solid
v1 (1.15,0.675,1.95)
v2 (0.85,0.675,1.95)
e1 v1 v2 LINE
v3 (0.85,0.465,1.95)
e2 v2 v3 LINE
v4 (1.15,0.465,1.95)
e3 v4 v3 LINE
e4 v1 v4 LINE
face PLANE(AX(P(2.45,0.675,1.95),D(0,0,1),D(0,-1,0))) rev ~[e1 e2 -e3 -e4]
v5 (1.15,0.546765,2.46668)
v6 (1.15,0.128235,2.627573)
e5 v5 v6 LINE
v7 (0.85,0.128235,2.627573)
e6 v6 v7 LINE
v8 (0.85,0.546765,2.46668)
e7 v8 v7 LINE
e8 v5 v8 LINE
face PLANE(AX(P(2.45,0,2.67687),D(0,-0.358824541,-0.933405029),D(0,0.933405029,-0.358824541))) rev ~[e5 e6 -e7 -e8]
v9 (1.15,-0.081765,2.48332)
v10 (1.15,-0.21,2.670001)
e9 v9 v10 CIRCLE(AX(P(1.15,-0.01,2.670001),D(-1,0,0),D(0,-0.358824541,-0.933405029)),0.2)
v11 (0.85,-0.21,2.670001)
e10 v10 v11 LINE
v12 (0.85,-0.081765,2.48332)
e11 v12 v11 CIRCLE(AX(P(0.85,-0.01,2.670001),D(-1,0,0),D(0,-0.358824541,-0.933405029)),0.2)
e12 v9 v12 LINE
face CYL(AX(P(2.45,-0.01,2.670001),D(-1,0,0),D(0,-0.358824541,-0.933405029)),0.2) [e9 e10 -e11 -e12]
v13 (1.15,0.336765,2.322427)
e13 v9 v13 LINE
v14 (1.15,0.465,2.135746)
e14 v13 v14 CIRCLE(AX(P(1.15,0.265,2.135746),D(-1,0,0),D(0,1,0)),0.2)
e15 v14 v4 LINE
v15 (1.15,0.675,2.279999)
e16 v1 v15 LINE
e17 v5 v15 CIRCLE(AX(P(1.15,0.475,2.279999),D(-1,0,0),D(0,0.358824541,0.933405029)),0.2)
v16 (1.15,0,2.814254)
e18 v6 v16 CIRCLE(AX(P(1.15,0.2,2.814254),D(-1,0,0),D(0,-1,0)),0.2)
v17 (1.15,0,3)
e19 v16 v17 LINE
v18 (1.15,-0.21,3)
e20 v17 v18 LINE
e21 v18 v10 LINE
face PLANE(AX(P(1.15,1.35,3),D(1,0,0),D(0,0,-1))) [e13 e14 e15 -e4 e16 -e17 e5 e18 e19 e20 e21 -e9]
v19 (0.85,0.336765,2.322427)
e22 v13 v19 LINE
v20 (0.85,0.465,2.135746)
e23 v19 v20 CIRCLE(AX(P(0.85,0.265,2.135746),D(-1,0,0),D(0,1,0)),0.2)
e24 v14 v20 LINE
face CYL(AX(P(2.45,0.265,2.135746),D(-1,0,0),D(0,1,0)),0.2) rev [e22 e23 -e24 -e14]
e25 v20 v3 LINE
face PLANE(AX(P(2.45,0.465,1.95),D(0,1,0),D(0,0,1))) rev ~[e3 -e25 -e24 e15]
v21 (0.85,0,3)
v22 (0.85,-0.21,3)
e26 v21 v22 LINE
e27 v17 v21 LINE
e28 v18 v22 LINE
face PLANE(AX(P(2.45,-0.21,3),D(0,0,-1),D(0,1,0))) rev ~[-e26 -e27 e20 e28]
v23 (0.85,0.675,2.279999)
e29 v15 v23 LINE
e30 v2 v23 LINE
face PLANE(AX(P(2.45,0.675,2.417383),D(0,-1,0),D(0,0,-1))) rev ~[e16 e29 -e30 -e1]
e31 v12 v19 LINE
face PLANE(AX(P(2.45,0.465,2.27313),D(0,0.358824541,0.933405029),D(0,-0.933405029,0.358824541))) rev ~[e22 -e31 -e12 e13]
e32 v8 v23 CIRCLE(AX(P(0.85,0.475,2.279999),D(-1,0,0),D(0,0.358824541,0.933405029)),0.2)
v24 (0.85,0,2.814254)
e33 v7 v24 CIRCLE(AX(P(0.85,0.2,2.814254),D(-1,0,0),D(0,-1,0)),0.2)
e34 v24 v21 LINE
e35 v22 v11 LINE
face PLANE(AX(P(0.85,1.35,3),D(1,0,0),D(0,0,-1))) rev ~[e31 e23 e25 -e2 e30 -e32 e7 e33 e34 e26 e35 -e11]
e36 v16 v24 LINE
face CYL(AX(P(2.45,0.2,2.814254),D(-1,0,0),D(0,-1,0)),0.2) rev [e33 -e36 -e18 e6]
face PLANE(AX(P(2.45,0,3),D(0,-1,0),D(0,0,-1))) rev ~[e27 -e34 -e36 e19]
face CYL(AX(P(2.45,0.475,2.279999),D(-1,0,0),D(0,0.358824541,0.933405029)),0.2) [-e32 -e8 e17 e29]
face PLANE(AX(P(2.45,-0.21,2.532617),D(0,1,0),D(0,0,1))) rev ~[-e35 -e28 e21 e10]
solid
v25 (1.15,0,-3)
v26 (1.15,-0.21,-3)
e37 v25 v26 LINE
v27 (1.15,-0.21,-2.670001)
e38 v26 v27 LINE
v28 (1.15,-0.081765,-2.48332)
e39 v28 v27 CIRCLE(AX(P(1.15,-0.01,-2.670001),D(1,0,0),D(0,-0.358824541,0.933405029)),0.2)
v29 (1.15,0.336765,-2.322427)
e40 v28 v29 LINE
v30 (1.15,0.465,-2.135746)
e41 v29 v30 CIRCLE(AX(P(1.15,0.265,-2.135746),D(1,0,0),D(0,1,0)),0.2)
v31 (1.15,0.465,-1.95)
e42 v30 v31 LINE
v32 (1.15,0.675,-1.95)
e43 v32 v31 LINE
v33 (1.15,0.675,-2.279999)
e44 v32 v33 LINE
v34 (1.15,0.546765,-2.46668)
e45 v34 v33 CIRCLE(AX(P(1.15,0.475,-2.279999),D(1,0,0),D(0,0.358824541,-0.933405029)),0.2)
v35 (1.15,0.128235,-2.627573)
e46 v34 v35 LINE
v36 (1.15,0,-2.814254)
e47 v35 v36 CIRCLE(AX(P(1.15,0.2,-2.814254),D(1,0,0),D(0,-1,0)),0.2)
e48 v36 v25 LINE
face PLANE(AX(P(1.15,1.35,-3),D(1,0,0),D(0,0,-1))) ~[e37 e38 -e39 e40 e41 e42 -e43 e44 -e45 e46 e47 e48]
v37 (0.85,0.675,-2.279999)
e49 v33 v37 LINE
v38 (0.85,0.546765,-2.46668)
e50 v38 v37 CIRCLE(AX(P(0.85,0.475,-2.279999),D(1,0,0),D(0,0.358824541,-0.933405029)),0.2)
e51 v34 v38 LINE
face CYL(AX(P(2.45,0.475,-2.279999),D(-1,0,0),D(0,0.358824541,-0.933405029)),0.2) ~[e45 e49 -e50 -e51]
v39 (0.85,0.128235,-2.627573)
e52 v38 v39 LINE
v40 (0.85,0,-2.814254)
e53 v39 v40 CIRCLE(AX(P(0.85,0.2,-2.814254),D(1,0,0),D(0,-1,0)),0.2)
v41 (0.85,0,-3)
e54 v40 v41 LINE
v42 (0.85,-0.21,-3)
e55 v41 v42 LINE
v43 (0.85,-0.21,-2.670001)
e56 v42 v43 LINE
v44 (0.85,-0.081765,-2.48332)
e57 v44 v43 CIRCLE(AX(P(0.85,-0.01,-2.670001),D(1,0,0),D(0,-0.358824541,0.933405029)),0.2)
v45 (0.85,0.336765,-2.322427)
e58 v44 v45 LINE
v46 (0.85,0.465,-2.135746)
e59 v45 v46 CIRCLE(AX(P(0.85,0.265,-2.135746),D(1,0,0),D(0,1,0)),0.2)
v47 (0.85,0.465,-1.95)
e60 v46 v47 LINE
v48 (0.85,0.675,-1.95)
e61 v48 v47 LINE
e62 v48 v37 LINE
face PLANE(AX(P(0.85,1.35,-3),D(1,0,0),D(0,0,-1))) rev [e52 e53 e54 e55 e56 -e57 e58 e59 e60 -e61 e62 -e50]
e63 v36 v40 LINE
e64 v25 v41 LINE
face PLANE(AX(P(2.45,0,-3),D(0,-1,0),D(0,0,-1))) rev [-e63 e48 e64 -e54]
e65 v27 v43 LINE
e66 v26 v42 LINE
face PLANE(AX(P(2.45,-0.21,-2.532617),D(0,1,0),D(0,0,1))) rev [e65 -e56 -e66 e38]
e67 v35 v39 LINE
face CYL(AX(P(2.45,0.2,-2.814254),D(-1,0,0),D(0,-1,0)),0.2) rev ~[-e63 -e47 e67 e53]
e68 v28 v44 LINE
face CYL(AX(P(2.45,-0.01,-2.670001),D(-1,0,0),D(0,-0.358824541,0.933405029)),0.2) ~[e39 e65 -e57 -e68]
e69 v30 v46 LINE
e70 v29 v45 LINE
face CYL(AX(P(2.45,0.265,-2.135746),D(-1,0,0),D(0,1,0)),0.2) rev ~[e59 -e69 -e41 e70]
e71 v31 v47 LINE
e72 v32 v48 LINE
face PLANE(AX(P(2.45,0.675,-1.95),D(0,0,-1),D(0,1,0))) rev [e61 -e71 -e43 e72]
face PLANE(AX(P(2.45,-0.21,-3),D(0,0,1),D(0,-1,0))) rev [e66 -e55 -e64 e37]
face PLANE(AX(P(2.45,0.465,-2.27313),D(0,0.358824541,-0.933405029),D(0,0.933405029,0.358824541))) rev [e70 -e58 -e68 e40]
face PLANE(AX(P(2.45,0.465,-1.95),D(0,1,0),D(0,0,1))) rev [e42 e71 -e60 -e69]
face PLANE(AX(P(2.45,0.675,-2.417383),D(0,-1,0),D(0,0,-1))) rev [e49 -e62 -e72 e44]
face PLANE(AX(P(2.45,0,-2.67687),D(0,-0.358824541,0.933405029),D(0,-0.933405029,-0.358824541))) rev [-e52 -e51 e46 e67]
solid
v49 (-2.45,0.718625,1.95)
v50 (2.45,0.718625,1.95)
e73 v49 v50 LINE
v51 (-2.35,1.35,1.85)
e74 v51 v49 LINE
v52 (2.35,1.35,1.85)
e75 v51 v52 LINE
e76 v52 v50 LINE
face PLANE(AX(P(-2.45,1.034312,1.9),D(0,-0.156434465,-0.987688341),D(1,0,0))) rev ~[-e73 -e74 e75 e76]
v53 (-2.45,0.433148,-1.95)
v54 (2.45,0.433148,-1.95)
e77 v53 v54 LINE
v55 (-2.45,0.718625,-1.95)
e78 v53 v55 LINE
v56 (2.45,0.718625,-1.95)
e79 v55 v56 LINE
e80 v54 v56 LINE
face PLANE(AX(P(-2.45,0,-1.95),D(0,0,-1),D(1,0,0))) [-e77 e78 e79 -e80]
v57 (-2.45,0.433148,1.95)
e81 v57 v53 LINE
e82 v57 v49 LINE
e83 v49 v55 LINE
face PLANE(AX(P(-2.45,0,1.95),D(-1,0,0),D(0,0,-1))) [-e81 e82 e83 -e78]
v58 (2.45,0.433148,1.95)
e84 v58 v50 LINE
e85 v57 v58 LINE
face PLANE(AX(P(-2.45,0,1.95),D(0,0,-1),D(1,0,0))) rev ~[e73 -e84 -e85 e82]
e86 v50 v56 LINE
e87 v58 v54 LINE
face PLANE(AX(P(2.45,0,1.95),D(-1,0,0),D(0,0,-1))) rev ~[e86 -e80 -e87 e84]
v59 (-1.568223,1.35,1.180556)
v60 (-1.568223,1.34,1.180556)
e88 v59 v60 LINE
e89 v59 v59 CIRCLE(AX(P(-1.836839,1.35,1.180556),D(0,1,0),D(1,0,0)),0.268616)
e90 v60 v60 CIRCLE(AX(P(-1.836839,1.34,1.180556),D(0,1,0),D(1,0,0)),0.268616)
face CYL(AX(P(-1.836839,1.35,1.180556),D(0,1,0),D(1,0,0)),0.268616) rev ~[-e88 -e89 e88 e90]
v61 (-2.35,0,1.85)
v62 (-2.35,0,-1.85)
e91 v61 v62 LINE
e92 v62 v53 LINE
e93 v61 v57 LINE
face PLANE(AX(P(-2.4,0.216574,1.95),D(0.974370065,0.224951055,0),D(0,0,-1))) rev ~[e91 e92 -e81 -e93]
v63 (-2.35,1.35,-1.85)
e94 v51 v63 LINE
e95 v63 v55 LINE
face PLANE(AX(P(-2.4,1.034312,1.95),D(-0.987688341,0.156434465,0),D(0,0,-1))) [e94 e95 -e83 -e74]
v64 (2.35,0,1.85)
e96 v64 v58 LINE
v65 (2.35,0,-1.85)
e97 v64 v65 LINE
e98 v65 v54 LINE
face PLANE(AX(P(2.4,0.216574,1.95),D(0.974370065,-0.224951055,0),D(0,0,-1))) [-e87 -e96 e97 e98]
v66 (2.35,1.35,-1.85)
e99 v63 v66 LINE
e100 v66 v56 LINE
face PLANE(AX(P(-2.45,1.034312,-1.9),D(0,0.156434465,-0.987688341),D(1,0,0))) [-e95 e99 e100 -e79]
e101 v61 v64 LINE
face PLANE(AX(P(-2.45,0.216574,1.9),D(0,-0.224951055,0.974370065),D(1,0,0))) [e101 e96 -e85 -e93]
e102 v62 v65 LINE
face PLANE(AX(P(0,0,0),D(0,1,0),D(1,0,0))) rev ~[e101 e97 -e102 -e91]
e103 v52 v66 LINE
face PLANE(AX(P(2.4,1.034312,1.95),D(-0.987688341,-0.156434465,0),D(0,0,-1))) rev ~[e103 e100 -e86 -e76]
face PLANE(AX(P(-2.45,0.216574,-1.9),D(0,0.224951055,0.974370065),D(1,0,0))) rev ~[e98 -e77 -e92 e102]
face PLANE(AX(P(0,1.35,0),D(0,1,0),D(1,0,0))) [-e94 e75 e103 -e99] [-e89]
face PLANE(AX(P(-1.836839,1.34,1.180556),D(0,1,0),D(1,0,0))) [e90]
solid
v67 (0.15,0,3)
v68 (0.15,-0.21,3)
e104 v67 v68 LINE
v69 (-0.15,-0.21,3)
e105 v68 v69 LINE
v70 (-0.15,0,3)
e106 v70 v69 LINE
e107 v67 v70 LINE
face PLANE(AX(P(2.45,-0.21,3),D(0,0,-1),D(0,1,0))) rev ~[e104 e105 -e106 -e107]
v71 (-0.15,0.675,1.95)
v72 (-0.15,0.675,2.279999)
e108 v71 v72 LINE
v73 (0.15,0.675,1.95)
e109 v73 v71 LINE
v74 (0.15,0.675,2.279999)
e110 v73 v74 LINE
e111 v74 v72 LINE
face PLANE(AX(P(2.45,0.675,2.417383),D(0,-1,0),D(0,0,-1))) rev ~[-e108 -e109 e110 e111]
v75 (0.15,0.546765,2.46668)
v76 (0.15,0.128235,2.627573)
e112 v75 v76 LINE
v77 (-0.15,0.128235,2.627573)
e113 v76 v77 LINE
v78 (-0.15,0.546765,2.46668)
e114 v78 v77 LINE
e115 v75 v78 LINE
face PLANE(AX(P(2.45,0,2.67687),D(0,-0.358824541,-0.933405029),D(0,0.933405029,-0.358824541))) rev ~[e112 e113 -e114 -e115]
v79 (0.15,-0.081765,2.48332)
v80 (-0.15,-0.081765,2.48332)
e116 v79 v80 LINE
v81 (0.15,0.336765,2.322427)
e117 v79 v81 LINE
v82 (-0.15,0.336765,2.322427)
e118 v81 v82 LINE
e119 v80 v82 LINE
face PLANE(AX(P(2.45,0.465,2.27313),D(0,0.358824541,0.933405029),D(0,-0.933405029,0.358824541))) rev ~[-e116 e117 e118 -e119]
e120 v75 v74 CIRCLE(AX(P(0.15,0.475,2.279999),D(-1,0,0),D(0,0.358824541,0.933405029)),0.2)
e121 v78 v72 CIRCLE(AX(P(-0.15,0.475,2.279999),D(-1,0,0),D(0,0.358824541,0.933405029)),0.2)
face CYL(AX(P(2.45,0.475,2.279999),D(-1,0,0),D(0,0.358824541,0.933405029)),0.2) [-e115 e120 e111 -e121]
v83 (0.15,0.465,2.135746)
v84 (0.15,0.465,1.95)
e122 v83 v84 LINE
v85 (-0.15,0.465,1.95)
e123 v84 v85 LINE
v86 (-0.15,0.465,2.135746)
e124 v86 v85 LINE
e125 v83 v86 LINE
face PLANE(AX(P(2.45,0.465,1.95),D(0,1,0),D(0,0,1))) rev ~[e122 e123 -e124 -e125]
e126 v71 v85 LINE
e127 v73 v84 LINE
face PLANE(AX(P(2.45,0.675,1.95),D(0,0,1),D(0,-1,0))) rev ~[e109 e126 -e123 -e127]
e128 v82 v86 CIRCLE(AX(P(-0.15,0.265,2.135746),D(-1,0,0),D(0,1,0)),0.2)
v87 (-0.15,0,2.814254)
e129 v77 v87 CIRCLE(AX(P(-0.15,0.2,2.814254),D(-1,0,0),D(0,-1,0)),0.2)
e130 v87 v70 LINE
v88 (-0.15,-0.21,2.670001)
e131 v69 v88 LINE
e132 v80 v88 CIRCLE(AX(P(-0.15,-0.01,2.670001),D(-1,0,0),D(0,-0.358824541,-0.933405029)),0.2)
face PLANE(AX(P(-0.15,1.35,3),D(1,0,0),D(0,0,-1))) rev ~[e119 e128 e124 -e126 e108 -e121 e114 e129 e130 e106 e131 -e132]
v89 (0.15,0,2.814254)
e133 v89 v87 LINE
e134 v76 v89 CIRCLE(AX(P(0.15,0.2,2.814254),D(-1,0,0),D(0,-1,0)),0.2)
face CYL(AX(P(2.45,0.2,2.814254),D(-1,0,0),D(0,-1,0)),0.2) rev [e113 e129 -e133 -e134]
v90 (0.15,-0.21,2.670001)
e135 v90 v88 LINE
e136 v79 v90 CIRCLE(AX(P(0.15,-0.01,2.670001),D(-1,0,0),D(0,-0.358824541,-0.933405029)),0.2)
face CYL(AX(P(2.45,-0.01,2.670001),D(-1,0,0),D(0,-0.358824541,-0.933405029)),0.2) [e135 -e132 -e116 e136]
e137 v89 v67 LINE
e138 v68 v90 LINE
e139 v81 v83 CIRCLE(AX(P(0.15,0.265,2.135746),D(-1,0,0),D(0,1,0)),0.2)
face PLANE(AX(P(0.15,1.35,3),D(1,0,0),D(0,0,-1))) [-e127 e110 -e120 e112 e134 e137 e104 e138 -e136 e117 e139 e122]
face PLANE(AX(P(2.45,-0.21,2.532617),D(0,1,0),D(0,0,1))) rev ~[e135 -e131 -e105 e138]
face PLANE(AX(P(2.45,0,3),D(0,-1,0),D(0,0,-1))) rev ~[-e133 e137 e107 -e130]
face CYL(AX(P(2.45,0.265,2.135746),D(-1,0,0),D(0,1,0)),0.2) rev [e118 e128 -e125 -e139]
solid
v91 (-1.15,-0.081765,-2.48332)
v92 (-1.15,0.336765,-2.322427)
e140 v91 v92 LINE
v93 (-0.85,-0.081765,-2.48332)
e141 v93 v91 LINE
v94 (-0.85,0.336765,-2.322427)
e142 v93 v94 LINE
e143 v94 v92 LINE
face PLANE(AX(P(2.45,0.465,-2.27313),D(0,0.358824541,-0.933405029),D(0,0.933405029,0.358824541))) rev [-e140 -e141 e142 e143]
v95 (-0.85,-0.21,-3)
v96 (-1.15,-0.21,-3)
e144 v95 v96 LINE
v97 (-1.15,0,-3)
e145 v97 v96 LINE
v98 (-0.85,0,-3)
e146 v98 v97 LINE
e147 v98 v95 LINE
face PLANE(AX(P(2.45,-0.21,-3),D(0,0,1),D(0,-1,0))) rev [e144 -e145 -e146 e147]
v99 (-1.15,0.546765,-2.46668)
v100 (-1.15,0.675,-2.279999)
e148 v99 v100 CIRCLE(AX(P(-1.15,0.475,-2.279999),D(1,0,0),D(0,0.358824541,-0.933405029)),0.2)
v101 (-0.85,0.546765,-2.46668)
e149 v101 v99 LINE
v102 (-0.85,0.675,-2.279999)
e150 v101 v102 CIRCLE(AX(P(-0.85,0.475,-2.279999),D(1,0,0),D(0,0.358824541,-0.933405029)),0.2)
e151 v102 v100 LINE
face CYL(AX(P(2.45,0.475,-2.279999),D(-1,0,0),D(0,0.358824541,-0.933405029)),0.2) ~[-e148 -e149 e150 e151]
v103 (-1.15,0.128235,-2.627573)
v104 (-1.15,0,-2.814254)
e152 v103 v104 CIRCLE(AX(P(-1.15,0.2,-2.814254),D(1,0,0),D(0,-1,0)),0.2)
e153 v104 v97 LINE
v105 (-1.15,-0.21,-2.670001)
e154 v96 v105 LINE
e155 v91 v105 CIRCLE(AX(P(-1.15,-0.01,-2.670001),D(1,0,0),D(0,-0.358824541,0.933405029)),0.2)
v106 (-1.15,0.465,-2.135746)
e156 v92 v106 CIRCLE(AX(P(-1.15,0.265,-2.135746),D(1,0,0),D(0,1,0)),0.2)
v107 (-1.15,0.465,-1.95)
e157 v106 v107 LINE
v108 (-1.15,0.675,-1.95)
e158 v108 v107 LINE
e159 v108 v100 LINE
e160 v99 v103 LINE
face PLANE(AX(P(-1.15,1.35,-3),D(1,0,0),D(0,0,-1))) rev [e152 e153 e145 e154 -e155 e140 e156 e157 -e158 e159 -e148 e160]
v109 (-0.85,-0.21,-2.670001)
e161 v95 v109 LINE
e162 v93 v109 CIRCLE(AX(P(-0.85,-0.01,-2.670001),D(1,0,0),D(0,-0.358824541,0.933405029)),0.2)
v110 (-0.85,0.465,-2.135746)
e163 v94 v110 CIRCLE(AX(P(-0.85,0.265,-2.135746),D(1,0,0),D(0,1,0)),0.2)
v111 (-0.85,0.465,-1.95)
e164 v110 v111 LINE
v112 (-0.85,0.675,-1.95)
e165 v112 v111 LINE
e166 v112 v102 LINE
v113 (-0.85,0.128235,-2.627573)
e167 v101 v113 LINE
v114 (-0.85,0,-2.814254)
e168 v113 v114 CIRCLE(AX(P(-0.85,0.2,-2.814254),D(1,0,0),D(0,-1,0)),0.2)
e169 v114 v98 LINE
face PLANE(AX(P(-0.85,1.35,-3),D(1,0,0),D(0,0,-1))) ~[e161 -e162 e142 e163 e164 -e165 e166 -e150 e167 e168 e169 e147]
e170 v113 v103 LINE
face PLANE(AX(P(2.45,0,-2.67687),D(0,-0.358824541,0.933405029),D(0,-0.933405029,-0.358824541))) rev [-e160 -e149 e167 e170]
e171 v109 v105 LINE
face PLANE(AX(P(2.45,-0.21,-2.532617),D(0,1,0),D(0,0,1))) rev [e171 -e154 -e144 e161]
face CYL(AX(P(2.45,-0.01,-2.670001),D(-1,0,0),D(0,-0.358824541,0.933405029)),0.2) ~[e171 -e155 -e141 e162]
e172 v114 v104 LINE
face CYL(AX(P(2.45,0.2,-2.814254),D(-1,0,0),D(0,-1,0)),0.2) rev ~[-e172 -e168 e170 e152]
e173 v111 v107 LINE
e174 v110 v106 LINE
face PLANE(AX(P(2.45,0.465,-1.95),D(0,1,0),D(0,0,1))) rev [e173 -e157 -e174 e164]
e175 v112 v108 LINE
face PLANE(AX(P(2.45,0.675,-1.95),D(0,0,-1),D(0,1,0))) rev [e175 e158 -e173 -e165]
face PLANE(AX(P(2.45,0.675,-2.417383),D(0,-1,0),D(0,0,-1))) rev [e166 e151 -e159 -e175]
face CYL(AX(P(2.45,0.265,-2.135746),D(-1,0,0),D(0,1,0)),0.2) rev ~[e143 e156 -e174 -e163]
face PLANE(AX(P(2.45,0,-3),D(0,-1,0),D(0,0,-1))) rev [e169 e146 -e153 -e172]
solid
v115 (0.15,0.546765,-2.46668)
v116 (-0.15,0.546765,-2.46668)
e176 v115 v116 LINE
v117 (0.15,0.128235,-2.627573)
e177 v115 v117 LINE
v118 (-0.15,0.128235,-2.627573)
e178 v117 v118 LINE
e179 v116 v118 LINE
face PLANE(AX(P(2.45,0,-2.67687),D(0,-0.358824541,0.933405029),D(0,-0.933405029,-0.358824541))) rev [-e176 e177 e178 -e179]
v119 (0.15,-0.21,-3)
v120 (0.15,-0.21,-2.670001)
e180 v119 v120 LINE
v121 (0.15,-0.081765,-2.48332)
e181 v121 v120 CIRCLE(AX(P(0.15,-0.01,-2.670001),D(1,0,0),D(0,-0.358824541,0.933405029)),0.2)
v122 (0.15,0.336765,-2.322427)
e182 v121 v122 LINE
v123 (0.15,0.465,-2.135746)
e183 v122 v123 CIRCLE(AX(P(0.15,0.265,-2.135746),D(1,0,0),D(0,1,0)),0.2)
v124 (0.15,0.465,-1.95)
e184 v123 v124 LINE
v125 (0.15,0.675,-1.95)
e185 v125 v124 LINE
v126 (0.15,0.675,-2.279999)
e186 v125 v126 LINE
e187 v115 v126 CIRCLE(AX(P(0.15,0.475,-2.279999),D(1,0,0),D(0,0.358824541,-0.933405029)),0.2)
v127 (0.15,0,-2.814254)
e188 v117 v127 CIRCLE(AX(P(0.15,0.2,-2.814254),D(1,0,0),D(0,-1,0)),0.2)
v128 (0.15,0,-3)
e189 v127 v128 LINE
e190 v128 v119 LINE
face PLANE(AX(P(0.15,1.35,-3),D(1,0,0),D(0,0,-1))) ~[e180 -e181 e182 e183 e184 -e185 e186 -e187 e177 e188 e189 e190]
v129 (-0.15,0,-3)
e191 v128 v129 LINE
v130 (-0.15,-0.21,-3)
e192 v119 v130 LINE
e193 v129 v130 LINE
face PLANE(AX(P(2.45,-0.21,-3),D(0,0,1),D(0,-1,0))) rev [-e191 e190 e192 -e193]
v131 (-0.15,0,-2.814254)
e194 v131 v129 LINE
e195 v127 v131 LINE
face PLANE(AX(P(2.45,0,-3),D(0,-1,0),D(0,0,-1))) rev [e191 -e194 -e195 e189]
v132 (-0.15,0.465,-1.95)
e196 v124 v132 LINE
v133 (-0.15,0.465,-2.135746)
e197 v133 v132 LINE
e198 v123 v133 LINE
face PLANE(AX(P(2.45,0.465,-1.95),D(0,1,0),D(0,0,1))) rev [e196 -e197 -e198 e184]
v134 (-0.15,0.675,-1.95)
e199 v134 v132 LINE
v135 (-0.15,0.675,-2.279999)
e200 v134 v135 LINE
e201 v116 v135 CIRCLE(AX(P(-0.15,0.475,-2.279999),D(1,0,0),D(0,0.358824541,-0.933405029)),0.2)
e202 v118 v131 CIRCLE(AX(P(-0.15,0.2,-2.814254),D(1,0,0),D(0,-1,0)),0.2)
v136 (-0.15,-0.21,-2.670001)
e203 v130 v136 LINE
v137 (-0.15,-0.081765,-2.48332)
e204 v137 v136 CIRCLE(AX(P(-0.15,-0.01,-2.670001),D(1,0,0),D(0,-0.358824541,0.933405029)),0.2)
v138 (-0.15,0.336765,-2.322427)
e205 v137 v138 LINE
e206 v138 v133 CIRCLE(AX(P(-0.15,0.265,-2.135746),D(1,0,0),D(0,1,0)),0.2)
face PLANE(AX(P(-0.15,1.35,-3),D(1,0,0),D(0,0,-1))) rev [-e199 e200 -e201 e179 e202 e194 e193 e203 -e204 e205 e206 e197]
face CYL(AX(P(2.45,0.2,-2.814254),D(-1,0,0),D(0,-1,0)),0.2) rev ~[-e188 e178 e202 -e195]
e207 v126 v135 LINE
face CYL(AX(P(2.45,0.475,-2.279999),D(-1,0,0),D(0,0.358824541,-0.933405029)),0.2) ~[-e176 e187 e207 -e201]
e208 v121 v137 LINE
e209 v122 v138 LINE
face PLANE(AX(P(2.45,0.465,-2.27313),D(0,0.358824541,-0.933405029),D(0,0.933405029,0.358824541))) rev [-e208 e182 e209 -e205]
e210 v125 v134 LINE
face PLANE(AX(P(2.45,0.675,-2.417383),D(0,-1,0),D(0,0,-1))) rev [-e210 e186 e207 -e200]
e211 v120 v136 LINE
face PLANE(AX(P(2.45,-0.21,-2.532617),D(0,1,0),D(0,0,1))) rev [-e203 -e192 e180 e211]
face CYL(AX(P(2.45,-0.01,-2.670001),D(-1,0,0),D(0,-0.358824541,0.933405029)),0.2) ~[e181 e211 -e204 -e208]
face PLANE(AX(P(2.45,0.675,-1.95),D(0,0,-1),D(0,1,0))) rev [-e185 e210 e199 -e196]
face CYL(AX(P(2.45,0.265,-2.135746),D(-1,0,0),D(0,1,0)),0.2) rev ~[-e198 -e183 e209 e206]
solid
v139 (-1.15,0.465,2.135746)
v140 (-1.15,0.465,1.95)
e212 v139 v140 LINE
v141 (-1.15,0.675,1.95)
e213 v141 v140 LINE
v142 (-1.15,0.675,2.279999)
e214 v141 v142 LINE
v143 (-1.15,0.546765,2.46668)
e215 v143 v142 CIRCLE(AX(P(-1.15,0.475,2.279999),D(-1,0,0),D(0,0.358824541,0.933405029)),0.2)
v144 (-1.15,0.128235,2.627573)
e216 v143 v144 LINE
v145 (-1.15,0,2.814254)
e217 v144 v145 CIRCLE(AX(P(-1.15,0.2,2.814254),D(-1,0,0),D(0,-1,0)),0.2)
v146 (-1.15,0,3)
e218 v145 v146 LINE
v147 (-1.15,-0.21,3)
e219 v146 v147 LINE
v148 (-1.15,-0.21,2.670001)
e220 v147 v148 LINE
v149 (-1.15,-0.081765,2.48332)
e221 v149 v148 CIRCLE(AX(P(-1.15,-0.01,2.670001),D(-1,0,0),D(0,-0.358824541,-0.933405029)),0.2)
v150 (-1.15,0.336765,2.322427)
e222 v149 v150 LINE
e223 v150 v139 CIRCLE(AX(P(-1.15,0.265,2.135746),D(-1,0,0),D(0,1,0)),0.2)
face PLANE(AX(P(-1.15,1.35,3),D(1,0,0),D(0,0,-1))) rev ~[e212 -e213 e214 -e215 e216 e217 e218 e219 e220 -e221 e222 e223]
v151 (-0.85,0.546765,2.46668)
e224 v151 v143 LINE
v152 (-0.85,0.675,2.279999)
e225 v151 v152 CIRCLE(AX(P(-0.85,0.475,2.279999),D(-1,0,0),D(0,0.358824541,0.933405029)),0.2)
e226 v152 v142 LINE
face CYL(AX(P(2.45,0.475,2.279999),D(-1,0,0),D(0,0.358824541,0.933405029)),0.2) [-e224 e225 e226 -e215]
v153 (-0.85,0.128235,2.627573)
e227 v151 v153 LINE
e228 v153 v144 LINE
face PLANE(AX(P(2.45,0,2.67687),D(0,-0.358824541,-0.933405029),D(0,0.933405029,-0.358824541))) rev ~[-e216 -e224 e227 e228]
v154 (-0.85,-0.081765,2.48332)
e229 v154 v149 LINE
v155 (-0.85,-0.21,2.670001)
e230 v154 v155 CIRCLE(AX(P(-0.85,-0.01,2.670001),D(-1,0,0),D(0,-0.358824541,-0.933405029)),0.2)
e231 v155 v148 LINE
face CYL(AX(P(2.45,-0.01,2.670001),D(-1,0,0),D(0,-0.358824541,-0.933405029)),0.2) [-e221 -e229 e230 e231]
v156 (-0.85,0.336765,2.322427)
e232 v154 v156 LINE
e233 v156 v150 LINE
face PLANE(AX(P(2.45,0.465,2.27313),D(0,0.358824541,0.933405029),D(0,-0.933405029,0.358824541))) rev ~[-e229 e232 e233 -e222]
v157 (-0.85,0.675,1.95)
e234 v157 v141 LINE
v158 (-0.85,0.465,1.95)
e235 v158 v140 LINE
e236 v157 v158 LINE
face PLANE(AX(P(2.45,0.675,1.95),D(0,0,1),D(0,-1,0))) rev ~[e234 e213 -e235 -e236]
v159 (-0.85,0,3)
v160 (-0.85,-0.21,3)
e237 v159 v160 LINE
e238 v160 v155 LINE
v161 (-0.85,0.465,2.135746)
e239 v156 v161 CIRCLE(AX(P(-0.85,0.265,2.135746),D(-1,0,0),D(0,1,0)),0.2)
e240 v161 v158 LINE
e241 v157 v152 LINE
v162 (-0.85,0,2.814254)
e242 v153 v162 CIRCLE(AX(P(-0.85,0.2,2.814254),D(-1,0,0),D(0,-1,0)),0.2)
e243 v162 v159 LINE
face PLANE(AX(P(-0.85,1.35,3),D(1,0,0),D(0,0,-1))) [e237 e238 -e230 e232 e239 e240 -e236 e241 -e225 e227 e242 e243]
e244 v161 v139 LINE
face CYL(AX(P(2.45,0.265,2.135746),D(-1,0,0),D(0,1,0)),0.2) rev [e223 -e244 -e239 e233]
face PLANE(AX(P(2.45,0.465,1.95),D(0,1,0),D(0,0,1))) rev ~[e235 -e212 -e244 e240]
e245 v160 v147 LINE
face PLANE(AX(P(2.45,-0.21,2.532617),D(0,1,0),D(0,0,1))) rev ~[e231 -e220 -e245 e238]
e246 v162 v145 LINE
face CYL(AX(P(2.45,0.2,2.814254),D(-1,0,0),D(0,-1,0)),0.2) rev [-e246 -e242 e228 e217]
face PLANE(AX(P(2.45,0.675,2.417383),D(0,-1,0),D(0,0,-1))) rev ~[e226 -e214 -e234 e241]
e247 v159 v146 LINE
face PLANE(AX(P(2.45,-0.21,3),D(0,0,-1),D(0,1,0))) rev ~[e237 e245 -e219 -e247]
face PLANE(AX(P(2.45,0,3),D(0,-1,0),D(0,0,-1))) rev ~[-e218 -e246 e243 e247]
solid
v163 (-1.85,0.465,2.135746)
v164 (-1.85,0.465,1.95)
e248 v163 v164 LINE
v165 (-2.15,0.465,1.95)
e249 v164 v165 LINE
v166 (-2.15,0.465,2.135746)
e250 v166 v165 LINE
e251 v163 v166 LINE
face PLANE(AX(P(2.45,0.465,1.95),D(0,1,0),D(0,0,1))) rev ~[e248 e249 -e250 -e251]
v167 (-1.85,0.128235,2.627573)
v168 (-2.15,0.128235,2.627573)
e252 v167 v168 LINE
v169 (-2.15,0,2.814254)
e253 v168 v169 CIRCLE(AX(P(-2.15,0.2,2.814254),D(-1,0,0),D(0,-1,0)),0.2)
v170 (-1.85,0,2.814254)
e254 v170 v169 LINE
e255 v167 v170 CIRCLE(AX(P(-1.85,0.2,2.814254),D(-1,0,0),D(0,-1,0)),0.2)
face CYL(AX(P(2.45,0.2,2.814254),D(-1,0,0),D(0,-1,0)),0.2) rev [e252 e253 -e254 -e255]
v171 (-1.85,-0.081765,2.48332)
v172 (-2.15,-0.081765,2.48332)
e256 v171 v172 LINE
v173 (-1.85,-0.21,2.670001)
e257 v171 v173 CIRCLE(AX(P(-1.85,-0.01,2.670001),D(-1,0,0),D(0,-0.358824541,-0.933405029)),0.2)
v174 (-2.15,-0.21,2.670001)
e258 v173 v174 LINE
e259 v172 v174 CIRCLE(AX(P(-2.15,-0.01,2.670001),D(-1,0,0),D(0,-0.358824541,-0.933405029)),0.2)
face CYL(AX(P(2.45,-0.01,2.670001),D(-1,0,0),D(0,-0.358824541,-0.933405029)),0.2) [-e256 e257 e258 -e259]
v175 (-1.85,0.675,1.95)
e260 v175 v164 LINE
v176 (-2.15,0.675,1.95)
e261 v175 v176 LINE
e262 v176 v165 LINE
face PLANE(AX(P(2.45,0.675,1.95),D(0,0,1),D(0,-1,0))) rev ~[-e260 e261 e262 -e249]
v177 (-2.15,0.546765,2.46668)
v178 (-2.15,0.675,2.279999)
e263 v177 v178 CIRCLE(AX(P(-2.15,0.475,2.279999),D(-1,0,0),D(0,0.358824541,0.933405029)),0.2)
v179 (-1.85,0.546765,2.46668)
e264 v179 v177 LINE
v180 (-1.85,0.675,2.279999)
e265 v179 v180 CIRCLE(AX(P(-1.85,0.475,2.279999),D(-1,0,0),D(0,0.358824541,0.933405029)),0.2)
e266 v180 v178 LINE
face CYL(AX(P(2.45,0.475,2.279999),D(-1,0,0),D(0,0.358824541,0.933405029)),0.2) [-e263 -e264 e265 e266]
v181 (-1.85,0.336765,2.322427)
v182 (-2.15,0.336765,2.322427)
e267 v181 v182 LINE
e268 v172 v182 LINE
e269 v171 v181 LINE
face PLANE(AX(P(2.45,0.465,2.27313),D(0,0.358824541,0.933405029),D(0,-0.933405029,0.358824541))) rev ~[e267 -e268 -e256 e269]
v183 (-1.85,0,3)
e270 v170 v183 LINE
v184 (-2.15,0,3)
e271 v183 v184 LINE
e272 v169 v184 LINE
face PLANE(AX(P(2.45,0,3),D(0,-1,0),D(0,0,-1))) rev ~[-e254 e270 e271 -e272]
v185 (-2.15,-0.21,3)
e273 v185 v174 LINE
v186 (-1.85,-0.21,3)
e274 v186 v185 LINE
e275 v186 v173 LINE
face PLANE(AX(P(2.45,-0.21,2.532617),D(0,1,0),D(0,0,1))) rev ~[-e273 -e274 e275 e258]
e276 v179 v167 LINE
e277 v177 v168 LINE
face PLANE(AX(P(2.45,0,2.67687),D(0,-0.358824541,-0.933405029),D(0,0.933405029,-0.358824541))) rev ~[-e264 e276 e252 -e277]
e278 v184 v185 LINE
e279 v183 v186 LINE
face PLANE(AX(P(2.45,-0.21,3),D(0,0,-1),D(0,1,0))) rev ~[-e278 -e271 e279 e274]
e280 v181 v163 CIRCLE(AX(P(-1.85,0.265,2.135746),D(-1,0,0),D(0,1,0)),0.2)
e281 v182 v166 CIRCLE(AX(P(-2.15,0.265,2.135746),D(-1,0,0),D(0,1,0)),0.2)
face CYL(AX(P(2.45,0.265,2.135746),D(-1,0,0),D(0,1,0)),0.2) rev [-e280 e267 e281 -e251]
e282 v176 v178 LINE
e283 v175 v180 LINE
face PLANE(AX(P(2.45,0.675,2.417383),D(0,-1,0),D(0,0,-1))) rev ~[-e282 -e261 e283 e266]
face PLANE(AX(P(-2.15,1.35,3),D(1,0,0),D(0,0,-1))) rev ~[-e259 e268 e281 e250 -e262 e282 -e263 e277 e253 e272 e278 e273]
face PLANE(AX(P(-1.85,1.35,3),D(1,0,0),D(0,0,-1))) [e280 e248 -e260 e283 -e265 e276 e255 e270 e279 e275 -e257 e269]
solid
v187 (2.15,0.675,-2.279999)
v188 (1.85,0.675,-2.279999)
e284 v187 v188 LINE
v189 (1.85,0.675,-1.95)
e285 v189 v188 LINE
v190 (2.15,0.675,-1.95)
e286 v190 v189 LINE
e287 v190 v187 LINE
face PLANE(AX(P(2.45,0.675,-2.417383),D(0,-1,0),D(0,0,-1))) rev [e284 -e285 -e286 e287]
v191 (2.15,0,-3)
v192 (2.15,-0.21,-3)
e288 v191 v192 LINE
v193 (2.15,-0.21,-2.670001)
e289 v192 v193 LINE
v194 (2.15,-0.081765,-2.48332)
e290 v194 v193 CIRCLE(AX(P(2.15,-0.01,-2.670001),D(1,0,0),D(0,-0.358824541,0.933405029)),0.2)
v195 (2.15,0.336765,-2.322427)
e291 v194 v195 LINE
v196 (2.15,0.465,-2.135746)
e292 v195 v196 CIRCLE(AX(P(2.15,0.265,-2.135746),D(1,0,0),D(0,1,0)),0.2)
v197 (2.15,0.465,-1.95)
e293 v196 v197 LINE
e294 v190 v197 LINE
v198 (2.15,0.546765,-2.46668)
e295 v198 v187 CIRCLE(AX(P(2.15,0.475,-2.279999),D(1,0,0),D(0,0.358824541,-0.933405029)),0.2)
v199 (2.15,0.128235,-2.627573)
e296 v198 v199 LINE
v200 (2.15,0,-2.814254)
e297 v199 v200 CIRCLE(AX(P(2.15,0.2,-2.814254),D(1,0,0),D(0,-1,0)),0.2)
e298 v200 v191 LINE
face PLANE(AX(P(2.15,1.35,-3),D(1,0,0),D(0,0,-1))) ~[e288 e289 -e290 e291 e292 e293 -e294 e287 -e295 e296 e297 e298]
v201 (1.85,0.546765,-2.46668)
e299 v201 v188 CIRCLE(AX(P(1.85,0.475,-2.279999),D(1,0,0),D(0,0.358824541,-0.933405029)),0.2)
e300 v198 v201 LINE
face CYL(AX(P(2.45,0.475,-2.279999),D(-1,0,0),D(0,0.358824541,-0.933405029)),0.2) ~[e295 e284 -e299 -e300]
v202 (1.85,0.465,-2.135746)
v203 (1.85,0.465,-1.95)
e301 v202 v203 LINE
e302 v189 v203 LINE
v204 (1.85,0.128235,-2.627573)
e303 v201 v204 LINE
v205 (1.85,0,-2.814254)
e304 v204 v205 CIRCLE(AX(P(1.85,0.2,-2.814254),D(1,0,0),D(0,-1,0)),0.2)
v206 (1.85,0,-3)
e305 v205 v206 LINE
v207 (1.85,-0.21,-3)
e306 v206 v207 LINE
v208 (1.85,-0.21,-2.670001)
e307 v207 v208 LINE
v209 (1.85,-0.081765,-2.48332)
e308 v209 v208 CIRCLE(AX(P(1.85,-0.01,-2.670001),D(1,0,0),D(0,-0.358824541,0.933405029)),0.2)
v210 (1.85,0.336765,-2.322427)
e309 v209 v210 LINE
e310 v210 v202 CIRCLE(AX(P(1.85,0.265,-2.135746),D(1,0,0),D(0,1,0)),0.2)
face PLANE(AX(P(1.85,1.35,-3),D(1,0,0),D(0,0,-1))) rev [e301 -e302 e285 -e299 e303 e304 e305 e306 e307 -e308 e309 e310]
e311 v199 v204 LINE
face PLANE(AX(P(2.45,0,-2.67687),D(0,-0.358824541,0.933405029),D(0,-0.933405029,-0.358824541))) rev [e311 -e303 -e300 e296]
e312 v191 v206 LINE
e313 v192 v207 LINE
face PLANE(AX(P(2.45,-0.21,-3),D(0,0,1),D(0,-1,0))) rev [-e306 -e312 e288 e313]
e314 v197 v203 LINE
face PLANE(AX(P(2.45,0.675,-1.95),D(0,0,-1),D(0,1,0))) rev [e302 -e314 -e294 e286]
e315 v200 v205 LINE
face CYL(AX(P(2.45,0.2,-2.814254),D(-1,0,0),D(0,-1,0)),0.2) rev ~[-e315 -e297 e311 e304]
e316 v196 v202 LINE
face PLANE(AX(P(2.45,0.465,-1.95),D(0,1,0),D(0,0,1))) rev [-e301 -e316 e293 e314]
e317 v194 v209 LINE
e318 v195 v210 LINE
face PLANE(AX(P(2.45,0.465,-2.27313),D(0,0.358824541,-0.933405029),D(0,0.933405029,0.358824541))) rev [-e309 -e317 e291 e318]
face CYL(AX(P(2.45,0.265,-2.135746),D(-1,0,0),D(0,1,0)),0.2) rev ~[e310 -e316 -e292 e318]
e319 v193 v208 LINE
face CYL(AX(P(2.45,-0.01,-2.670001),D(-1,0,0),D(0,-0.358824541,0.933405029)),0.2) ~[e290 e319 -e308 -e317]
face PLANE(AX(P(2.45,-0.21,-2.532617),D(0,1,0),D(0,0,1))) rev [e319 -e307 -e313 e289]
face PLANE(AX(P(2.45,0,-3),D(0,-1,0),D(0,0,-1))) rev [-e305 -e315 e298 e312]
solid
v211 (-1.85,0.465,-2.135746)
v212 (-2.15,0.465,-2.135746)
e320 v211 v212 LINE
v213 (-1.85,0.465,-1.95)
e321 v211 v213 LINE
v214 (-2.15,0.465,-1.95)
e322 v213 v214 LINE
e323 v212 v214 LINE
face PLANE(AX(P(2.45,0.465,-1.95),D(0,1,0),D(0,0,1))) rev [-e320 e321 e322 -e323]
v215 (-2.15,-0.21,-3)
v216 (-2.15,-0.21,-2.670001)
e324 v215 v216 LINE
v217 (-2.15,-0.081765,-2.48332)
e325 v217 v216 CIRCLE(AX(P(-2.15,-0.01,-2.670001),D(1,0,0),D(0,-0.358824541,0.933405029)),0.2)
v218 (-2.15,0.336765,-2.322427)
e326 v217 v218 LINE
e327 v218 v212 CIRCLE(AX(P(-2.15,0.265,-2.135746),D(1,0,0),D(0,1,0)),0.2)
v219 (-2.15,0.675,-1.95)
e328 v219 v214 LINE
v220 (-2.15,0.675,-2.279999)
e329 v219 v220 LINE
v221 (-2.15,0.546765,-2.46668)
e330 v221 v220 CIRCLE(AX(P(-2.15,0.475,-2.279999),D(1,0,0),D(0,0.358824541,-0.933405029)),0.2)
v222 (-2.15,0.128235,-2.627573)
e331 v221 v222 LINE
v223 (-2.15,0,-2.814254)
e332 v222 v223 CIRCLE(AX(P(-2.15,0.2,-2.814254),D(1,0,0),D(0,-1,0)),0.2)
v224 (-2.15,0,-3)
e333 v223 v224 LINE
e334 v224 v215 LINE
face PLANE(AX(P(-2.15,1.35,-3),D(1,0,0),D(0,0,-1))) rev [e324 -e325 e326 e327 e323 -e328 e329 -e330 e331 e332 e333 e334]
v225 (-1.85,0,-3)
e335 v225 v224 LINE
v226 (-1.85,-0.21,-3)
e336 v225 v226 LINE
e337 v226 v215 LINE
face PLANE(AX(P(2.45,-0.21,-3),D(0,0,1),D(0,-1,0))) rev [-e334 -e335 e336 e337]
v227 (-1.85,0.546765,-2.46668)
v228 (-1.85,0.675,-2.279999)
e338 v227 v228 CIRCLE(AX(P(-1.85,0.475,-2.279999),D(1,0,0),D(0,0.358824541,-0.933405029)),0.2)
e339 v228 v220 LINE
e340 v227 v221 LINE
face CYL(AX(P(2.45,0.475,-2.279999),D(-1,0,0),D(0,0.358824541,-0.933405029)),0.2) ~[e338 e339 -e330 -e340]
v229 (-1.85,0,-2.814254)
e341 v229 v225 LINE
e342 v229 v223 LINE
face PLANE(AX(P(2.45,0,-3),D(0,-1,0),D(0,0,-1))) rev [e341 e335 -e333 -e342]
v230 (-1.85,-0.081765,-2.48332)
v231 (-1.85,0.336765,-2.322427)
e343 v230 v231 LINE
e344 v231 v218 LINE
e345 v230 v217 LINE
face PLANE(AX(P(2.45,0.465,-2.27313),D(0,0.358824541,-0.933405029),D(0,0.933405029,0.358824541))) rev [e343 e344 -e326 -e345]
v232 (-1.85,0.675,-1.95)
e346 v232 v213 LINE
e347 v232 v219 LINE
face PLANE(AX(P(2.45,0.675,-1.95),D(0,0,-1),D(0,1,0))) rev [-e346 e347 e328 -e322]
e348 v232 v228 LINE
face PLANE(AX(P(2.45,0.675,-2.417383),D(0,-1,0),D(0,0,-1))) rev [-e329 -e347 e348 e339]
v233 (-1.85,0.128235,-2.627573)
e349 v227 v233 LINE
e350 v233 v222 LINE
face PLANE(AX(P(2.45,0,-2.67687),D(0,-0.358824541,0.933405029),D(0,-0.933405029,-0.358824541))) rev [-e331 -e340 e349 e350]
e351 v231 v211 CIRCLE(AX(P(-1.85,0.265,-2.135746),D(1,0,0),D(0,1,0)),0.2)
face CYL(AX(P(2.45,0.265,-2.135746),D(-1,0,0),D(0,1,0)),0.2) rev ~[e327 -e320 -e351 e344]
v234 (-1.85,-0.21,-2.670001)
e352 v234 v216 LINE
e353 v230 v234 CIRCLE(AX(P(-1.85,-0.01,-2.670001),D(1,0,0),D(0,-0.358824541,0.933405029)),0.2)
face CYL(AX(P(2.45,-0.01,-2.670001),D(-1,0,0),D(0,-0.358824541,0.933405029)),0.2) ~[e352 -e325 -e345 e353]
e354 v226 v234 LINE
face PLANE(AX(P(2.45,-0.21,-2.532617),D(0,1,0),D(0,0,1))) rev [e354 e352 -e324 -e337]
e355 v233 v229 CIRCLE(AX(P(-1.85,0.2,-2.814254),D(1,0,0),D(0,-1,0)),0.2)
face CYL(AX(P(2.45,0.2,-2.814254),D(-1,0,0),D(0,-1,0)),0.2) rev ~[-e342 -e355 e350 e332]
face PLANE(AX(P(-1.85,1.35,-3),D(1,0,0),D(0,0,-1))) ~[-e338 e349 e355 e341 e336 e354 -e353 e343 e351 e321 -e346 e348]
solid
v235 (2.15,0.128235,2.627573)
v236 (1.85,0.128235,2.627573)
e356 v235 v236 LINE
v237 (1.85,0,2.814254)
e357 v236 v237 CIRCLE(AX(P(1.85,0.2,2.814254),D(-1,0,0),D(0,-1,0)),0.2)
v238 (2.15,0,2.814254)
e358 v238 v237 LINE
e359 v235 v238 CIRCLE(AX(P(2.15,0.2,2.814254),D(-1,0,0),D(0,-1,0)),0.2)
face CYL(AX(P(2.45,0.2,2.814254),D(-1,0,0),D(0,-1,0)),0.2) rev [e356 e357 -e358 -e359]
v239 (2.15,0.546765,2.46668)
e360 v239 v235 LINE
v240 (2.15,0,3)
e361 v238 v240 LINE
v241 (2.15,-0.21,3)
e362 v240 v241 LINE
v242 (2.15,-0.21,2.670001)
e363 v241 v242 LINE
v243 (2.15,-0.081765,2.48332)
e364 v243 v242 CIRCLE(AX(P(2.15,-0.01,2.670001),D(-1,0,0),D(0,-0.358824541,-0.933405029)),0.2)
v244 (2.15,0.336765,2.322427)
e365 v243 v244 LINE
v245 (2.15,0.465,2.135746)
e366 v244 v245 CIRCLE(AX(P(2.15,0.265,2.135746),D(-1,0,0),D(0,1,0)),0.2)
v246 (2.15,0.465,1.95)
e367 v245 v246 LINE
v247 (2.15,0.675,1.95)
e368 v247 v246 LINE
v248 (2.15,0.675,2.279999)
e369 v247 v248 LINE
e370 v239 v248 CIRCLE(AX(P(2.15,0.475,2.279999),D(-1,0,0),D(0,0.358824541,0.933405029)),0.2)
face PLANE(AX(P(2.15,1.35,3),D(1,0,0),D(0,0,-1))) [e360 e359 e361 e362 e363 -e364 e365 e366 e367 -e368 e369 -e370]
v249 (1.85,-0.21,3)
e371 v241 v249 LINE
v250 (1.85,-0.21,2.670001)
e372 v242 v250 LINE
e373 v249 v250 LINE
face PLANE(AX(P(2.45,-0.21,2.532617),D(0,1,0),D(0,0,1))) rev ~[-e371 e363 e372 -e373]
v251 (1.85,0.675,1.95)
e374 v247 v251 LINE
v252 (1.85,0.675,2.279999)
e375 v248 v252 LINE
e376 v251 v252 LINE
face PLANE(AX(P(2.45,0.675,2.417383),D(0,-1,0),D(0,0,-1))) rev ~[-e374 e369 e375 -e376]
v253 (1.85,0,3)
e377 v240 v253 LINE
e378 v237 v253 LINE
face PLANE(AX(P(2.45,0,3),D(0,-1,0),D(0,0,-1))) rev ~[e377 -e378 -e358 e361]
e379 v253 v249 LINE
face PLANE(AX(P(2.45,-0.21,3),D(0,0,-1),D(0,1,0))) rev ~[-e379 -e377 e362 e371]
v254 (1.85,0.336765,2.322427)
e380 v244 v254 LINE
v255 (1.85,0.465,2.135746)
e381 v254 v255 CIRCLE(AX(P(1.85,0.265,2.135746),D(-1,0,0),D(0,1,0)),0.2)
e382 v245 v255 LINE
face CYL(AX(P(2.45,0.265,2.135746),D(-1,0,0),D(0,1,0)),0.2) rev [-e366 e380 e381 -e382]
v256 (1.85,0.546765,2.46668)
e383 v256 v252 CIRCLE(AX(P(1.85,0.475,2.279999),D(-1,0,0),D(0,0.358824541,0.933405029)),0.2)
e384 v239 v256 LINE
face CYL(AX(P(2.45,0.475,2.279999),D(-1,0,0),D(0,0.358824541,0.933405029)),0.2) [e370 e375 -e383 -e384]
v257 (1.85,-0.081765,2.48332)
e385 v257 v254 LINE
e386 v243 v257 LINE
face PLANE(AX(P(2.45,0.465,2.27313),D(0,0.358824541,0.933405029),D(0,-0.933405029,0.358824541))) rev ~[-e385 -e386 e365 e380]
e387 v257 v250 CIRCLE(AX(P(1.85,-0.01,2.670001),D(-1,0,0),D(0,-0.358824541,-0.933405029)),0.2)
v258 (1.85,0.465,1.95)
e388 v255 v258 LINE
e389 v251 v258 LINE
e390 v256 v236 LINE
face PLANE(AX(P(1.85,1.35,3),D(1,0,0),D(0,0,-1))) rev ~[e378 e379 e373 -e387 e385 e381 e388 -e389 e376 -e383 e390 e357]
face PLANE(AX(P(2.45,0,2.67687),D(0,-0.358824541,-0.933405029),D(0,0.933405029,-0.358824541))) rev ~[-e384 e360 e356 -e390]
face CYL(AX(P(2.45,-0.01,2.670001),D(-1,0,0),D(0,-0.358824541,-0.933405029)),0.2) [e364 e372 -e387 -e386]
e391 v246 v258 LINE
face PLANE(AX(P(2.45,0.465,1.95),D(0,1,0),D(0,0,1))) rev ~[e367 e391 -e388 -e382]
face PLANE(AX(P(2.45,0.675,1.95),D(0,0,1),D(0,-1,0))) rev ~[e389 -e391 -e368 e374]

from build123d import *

# Parameters (mm, degrees)
SKETCH1_W           = 4.9
SKETCH1_H           = 3.9
BOSS_EXTRUDE1_DEPTH = 1.35
BOSS_EXTRUDE2_DEPTH = 4.9
FILLET1_R           = 0.2
SKETCH3_OUTSIDE_W   = 8.328
SKETCH3_OUTSIDE_H   = 8.378
SKETCH3_OUTSIDE_W_2 = 0.3
SKETCH3_OUTSIDE_H_2 = 1.05
CUT_EXTRUDE1_DEPTH  = 2.56
CHAMFER1_SIZE       = 0.1
CHAMFER1_SIZE2      = 0.433147587
CHAMFER2_SIZE       = 0.1
CHAMFER2_SIZE2      = 0.631375151
SKETCH4_R           = 0.268615899
CUT_EXTRUDE2_DEPTH  = 0.01


with BuildPart() as part:
    # Sketch1 → Boss-Extrude1 (new body)
    with BuildSketch(Plane(origin=(0, 0, 0), x_dir=(1, 0, 0), z_dir=(0, 1, 0))):
        Rectangle(SKETCH1_W, SKETCH1_H)
    extrude(amount=BOSS_EXTRUDE1_DEPTH)

    # Chamfer1
    chamfer1_edges = [part.edges().sort_by_distance(p)[0] for p in [
        (0, 0, -1.95),
        (2.45, 0, 0),
        (0, 0, 1.95),
        (-2.45, 0, 0),
    ]]
    chamfer1_side = [part.faces().sort_by_distance(p)[0] for p in [
        (0, 0, 0),
    ]]
    chamfer(chamfer1_edges, length=CHAMFER1_SIZE, length2=CHAMFER1_SIZE2, reference=chamfer1_side[0])

    # Chamfer2
    chamfer2_edges = [part.edges().sort_by_distance(p)[0] for p in [
        (2.45, 1.35, 0),
        (0, 1.35, -1.95),
        (-2.45, 1.35, 0),
        (0, 1.35, 1.95),
    ]]
    chamfer2_side = [part.faces().sort_by_distance(p)[0] for p in [
        (0, 1.35, 0),
    ]]
    chamfer(chamfer2_edges, length=CHAMFER2_SIZE, length2=CHAMFER2_SIZE2, reference=chamfer2_side[0])

    # Sketch4 → Cut-Extrude2 (cut)
    with BuildSketch(Plane(origin=(0, 1.35, 0), x_dir=(1, 0, 0), z_dir=(0, 1, 0))):
        with Locations((-1.836838836, -1.180555556)):
            Circle(SKETCH4_R)
    extrude(amount=-CUT_EXTRUDE2_DEPTH, mode=Mode.SUBTRACT)


with BuildPart() as body_2:
    # Sketch2 → Boss-Extrude2 (new body)
    with BuildSketch(Plane(origin=(2.45, 0, 0), x_dir=(0, 0, -1), z_dir=(1, 0, 0))):
        Polygon((-1.95, 0.465), (-2.273129751, 0.465), (-2.532616852, -0.21), (-3, -0.21), (-3, 0), (-2.676870249, 0), (-2.417383148, 0.675), (-1.95, 0.675), align=None)
    extrude(amount=-BOSS_EXTRUDE2_DEPTH)

    # Fillet1
    fillet1_edges = [body_2.edges().sort_by_distance(p)[0] for p in [
        (0, 0.465, 2.273129751),
        (0, -0.21, 2.532616852),
        (0, 0, 2.676870249),
        (0, 0.675, 2.417383148),
    ]]
    fillet(fillet1_edges, radius=FILLET1_R)

    # Sketch3 outside → Cut-Extrude1 (cut, through all)
    with BuildSketch(Plane(origin=(0, 1.35, 0), x_dir=(1, 0, 0), z_dir=(0, 1, 0))):
        with Locations((0, -0.525)):
            Rectangle(SKETCH3_OUTSIDE_W, SKETCH3_OUTSIDE_H)
        with Locations((0, -2.475)):
            Rectangle(SKETCH3_OUTSIDE_W_2, SKETCH3_OUTSIDE_H_2, mode=Mode.SUBTRACT)
        with Locations((1, -2.475)):
            Rectangle(SKETCH3_OUTSIDE_W_2, SKETCH3_OUTSIDE_H_2, mode=Mode.SUBTRACT)
        with Locations((2, -2.475)):
            Rectangle(SKETCH3_OUTSIDE_W_2, SKETCH3_OUTSIDE_H_2, mode=Mode.SUBTRACT)
        with Locations((-1, -2.475)):
            Rectangle(SKETCH3_OUTSIDE_W_2, SKETCH3_OUTSIDE_H_2, mode=Mode.SUBTRACT)
        with Locations((-2, -2.475)):
            Rectangle(SKETCH3_OUTSIDE_W_2, SKETCH3_OUTSIDE_H_2, mode=Mode.SUBTRACT)
    extrude(amount=-CUT_EXTRUDE1_DEPTH, mode=Mode.SUBTRACT)


with BuildPart() as body_3:
    # Mirror2: mirrored copy
    add(body_2.part.mirror(Plane.XY))


solid = Compound([part.part, body_2.part, body_3.part])
